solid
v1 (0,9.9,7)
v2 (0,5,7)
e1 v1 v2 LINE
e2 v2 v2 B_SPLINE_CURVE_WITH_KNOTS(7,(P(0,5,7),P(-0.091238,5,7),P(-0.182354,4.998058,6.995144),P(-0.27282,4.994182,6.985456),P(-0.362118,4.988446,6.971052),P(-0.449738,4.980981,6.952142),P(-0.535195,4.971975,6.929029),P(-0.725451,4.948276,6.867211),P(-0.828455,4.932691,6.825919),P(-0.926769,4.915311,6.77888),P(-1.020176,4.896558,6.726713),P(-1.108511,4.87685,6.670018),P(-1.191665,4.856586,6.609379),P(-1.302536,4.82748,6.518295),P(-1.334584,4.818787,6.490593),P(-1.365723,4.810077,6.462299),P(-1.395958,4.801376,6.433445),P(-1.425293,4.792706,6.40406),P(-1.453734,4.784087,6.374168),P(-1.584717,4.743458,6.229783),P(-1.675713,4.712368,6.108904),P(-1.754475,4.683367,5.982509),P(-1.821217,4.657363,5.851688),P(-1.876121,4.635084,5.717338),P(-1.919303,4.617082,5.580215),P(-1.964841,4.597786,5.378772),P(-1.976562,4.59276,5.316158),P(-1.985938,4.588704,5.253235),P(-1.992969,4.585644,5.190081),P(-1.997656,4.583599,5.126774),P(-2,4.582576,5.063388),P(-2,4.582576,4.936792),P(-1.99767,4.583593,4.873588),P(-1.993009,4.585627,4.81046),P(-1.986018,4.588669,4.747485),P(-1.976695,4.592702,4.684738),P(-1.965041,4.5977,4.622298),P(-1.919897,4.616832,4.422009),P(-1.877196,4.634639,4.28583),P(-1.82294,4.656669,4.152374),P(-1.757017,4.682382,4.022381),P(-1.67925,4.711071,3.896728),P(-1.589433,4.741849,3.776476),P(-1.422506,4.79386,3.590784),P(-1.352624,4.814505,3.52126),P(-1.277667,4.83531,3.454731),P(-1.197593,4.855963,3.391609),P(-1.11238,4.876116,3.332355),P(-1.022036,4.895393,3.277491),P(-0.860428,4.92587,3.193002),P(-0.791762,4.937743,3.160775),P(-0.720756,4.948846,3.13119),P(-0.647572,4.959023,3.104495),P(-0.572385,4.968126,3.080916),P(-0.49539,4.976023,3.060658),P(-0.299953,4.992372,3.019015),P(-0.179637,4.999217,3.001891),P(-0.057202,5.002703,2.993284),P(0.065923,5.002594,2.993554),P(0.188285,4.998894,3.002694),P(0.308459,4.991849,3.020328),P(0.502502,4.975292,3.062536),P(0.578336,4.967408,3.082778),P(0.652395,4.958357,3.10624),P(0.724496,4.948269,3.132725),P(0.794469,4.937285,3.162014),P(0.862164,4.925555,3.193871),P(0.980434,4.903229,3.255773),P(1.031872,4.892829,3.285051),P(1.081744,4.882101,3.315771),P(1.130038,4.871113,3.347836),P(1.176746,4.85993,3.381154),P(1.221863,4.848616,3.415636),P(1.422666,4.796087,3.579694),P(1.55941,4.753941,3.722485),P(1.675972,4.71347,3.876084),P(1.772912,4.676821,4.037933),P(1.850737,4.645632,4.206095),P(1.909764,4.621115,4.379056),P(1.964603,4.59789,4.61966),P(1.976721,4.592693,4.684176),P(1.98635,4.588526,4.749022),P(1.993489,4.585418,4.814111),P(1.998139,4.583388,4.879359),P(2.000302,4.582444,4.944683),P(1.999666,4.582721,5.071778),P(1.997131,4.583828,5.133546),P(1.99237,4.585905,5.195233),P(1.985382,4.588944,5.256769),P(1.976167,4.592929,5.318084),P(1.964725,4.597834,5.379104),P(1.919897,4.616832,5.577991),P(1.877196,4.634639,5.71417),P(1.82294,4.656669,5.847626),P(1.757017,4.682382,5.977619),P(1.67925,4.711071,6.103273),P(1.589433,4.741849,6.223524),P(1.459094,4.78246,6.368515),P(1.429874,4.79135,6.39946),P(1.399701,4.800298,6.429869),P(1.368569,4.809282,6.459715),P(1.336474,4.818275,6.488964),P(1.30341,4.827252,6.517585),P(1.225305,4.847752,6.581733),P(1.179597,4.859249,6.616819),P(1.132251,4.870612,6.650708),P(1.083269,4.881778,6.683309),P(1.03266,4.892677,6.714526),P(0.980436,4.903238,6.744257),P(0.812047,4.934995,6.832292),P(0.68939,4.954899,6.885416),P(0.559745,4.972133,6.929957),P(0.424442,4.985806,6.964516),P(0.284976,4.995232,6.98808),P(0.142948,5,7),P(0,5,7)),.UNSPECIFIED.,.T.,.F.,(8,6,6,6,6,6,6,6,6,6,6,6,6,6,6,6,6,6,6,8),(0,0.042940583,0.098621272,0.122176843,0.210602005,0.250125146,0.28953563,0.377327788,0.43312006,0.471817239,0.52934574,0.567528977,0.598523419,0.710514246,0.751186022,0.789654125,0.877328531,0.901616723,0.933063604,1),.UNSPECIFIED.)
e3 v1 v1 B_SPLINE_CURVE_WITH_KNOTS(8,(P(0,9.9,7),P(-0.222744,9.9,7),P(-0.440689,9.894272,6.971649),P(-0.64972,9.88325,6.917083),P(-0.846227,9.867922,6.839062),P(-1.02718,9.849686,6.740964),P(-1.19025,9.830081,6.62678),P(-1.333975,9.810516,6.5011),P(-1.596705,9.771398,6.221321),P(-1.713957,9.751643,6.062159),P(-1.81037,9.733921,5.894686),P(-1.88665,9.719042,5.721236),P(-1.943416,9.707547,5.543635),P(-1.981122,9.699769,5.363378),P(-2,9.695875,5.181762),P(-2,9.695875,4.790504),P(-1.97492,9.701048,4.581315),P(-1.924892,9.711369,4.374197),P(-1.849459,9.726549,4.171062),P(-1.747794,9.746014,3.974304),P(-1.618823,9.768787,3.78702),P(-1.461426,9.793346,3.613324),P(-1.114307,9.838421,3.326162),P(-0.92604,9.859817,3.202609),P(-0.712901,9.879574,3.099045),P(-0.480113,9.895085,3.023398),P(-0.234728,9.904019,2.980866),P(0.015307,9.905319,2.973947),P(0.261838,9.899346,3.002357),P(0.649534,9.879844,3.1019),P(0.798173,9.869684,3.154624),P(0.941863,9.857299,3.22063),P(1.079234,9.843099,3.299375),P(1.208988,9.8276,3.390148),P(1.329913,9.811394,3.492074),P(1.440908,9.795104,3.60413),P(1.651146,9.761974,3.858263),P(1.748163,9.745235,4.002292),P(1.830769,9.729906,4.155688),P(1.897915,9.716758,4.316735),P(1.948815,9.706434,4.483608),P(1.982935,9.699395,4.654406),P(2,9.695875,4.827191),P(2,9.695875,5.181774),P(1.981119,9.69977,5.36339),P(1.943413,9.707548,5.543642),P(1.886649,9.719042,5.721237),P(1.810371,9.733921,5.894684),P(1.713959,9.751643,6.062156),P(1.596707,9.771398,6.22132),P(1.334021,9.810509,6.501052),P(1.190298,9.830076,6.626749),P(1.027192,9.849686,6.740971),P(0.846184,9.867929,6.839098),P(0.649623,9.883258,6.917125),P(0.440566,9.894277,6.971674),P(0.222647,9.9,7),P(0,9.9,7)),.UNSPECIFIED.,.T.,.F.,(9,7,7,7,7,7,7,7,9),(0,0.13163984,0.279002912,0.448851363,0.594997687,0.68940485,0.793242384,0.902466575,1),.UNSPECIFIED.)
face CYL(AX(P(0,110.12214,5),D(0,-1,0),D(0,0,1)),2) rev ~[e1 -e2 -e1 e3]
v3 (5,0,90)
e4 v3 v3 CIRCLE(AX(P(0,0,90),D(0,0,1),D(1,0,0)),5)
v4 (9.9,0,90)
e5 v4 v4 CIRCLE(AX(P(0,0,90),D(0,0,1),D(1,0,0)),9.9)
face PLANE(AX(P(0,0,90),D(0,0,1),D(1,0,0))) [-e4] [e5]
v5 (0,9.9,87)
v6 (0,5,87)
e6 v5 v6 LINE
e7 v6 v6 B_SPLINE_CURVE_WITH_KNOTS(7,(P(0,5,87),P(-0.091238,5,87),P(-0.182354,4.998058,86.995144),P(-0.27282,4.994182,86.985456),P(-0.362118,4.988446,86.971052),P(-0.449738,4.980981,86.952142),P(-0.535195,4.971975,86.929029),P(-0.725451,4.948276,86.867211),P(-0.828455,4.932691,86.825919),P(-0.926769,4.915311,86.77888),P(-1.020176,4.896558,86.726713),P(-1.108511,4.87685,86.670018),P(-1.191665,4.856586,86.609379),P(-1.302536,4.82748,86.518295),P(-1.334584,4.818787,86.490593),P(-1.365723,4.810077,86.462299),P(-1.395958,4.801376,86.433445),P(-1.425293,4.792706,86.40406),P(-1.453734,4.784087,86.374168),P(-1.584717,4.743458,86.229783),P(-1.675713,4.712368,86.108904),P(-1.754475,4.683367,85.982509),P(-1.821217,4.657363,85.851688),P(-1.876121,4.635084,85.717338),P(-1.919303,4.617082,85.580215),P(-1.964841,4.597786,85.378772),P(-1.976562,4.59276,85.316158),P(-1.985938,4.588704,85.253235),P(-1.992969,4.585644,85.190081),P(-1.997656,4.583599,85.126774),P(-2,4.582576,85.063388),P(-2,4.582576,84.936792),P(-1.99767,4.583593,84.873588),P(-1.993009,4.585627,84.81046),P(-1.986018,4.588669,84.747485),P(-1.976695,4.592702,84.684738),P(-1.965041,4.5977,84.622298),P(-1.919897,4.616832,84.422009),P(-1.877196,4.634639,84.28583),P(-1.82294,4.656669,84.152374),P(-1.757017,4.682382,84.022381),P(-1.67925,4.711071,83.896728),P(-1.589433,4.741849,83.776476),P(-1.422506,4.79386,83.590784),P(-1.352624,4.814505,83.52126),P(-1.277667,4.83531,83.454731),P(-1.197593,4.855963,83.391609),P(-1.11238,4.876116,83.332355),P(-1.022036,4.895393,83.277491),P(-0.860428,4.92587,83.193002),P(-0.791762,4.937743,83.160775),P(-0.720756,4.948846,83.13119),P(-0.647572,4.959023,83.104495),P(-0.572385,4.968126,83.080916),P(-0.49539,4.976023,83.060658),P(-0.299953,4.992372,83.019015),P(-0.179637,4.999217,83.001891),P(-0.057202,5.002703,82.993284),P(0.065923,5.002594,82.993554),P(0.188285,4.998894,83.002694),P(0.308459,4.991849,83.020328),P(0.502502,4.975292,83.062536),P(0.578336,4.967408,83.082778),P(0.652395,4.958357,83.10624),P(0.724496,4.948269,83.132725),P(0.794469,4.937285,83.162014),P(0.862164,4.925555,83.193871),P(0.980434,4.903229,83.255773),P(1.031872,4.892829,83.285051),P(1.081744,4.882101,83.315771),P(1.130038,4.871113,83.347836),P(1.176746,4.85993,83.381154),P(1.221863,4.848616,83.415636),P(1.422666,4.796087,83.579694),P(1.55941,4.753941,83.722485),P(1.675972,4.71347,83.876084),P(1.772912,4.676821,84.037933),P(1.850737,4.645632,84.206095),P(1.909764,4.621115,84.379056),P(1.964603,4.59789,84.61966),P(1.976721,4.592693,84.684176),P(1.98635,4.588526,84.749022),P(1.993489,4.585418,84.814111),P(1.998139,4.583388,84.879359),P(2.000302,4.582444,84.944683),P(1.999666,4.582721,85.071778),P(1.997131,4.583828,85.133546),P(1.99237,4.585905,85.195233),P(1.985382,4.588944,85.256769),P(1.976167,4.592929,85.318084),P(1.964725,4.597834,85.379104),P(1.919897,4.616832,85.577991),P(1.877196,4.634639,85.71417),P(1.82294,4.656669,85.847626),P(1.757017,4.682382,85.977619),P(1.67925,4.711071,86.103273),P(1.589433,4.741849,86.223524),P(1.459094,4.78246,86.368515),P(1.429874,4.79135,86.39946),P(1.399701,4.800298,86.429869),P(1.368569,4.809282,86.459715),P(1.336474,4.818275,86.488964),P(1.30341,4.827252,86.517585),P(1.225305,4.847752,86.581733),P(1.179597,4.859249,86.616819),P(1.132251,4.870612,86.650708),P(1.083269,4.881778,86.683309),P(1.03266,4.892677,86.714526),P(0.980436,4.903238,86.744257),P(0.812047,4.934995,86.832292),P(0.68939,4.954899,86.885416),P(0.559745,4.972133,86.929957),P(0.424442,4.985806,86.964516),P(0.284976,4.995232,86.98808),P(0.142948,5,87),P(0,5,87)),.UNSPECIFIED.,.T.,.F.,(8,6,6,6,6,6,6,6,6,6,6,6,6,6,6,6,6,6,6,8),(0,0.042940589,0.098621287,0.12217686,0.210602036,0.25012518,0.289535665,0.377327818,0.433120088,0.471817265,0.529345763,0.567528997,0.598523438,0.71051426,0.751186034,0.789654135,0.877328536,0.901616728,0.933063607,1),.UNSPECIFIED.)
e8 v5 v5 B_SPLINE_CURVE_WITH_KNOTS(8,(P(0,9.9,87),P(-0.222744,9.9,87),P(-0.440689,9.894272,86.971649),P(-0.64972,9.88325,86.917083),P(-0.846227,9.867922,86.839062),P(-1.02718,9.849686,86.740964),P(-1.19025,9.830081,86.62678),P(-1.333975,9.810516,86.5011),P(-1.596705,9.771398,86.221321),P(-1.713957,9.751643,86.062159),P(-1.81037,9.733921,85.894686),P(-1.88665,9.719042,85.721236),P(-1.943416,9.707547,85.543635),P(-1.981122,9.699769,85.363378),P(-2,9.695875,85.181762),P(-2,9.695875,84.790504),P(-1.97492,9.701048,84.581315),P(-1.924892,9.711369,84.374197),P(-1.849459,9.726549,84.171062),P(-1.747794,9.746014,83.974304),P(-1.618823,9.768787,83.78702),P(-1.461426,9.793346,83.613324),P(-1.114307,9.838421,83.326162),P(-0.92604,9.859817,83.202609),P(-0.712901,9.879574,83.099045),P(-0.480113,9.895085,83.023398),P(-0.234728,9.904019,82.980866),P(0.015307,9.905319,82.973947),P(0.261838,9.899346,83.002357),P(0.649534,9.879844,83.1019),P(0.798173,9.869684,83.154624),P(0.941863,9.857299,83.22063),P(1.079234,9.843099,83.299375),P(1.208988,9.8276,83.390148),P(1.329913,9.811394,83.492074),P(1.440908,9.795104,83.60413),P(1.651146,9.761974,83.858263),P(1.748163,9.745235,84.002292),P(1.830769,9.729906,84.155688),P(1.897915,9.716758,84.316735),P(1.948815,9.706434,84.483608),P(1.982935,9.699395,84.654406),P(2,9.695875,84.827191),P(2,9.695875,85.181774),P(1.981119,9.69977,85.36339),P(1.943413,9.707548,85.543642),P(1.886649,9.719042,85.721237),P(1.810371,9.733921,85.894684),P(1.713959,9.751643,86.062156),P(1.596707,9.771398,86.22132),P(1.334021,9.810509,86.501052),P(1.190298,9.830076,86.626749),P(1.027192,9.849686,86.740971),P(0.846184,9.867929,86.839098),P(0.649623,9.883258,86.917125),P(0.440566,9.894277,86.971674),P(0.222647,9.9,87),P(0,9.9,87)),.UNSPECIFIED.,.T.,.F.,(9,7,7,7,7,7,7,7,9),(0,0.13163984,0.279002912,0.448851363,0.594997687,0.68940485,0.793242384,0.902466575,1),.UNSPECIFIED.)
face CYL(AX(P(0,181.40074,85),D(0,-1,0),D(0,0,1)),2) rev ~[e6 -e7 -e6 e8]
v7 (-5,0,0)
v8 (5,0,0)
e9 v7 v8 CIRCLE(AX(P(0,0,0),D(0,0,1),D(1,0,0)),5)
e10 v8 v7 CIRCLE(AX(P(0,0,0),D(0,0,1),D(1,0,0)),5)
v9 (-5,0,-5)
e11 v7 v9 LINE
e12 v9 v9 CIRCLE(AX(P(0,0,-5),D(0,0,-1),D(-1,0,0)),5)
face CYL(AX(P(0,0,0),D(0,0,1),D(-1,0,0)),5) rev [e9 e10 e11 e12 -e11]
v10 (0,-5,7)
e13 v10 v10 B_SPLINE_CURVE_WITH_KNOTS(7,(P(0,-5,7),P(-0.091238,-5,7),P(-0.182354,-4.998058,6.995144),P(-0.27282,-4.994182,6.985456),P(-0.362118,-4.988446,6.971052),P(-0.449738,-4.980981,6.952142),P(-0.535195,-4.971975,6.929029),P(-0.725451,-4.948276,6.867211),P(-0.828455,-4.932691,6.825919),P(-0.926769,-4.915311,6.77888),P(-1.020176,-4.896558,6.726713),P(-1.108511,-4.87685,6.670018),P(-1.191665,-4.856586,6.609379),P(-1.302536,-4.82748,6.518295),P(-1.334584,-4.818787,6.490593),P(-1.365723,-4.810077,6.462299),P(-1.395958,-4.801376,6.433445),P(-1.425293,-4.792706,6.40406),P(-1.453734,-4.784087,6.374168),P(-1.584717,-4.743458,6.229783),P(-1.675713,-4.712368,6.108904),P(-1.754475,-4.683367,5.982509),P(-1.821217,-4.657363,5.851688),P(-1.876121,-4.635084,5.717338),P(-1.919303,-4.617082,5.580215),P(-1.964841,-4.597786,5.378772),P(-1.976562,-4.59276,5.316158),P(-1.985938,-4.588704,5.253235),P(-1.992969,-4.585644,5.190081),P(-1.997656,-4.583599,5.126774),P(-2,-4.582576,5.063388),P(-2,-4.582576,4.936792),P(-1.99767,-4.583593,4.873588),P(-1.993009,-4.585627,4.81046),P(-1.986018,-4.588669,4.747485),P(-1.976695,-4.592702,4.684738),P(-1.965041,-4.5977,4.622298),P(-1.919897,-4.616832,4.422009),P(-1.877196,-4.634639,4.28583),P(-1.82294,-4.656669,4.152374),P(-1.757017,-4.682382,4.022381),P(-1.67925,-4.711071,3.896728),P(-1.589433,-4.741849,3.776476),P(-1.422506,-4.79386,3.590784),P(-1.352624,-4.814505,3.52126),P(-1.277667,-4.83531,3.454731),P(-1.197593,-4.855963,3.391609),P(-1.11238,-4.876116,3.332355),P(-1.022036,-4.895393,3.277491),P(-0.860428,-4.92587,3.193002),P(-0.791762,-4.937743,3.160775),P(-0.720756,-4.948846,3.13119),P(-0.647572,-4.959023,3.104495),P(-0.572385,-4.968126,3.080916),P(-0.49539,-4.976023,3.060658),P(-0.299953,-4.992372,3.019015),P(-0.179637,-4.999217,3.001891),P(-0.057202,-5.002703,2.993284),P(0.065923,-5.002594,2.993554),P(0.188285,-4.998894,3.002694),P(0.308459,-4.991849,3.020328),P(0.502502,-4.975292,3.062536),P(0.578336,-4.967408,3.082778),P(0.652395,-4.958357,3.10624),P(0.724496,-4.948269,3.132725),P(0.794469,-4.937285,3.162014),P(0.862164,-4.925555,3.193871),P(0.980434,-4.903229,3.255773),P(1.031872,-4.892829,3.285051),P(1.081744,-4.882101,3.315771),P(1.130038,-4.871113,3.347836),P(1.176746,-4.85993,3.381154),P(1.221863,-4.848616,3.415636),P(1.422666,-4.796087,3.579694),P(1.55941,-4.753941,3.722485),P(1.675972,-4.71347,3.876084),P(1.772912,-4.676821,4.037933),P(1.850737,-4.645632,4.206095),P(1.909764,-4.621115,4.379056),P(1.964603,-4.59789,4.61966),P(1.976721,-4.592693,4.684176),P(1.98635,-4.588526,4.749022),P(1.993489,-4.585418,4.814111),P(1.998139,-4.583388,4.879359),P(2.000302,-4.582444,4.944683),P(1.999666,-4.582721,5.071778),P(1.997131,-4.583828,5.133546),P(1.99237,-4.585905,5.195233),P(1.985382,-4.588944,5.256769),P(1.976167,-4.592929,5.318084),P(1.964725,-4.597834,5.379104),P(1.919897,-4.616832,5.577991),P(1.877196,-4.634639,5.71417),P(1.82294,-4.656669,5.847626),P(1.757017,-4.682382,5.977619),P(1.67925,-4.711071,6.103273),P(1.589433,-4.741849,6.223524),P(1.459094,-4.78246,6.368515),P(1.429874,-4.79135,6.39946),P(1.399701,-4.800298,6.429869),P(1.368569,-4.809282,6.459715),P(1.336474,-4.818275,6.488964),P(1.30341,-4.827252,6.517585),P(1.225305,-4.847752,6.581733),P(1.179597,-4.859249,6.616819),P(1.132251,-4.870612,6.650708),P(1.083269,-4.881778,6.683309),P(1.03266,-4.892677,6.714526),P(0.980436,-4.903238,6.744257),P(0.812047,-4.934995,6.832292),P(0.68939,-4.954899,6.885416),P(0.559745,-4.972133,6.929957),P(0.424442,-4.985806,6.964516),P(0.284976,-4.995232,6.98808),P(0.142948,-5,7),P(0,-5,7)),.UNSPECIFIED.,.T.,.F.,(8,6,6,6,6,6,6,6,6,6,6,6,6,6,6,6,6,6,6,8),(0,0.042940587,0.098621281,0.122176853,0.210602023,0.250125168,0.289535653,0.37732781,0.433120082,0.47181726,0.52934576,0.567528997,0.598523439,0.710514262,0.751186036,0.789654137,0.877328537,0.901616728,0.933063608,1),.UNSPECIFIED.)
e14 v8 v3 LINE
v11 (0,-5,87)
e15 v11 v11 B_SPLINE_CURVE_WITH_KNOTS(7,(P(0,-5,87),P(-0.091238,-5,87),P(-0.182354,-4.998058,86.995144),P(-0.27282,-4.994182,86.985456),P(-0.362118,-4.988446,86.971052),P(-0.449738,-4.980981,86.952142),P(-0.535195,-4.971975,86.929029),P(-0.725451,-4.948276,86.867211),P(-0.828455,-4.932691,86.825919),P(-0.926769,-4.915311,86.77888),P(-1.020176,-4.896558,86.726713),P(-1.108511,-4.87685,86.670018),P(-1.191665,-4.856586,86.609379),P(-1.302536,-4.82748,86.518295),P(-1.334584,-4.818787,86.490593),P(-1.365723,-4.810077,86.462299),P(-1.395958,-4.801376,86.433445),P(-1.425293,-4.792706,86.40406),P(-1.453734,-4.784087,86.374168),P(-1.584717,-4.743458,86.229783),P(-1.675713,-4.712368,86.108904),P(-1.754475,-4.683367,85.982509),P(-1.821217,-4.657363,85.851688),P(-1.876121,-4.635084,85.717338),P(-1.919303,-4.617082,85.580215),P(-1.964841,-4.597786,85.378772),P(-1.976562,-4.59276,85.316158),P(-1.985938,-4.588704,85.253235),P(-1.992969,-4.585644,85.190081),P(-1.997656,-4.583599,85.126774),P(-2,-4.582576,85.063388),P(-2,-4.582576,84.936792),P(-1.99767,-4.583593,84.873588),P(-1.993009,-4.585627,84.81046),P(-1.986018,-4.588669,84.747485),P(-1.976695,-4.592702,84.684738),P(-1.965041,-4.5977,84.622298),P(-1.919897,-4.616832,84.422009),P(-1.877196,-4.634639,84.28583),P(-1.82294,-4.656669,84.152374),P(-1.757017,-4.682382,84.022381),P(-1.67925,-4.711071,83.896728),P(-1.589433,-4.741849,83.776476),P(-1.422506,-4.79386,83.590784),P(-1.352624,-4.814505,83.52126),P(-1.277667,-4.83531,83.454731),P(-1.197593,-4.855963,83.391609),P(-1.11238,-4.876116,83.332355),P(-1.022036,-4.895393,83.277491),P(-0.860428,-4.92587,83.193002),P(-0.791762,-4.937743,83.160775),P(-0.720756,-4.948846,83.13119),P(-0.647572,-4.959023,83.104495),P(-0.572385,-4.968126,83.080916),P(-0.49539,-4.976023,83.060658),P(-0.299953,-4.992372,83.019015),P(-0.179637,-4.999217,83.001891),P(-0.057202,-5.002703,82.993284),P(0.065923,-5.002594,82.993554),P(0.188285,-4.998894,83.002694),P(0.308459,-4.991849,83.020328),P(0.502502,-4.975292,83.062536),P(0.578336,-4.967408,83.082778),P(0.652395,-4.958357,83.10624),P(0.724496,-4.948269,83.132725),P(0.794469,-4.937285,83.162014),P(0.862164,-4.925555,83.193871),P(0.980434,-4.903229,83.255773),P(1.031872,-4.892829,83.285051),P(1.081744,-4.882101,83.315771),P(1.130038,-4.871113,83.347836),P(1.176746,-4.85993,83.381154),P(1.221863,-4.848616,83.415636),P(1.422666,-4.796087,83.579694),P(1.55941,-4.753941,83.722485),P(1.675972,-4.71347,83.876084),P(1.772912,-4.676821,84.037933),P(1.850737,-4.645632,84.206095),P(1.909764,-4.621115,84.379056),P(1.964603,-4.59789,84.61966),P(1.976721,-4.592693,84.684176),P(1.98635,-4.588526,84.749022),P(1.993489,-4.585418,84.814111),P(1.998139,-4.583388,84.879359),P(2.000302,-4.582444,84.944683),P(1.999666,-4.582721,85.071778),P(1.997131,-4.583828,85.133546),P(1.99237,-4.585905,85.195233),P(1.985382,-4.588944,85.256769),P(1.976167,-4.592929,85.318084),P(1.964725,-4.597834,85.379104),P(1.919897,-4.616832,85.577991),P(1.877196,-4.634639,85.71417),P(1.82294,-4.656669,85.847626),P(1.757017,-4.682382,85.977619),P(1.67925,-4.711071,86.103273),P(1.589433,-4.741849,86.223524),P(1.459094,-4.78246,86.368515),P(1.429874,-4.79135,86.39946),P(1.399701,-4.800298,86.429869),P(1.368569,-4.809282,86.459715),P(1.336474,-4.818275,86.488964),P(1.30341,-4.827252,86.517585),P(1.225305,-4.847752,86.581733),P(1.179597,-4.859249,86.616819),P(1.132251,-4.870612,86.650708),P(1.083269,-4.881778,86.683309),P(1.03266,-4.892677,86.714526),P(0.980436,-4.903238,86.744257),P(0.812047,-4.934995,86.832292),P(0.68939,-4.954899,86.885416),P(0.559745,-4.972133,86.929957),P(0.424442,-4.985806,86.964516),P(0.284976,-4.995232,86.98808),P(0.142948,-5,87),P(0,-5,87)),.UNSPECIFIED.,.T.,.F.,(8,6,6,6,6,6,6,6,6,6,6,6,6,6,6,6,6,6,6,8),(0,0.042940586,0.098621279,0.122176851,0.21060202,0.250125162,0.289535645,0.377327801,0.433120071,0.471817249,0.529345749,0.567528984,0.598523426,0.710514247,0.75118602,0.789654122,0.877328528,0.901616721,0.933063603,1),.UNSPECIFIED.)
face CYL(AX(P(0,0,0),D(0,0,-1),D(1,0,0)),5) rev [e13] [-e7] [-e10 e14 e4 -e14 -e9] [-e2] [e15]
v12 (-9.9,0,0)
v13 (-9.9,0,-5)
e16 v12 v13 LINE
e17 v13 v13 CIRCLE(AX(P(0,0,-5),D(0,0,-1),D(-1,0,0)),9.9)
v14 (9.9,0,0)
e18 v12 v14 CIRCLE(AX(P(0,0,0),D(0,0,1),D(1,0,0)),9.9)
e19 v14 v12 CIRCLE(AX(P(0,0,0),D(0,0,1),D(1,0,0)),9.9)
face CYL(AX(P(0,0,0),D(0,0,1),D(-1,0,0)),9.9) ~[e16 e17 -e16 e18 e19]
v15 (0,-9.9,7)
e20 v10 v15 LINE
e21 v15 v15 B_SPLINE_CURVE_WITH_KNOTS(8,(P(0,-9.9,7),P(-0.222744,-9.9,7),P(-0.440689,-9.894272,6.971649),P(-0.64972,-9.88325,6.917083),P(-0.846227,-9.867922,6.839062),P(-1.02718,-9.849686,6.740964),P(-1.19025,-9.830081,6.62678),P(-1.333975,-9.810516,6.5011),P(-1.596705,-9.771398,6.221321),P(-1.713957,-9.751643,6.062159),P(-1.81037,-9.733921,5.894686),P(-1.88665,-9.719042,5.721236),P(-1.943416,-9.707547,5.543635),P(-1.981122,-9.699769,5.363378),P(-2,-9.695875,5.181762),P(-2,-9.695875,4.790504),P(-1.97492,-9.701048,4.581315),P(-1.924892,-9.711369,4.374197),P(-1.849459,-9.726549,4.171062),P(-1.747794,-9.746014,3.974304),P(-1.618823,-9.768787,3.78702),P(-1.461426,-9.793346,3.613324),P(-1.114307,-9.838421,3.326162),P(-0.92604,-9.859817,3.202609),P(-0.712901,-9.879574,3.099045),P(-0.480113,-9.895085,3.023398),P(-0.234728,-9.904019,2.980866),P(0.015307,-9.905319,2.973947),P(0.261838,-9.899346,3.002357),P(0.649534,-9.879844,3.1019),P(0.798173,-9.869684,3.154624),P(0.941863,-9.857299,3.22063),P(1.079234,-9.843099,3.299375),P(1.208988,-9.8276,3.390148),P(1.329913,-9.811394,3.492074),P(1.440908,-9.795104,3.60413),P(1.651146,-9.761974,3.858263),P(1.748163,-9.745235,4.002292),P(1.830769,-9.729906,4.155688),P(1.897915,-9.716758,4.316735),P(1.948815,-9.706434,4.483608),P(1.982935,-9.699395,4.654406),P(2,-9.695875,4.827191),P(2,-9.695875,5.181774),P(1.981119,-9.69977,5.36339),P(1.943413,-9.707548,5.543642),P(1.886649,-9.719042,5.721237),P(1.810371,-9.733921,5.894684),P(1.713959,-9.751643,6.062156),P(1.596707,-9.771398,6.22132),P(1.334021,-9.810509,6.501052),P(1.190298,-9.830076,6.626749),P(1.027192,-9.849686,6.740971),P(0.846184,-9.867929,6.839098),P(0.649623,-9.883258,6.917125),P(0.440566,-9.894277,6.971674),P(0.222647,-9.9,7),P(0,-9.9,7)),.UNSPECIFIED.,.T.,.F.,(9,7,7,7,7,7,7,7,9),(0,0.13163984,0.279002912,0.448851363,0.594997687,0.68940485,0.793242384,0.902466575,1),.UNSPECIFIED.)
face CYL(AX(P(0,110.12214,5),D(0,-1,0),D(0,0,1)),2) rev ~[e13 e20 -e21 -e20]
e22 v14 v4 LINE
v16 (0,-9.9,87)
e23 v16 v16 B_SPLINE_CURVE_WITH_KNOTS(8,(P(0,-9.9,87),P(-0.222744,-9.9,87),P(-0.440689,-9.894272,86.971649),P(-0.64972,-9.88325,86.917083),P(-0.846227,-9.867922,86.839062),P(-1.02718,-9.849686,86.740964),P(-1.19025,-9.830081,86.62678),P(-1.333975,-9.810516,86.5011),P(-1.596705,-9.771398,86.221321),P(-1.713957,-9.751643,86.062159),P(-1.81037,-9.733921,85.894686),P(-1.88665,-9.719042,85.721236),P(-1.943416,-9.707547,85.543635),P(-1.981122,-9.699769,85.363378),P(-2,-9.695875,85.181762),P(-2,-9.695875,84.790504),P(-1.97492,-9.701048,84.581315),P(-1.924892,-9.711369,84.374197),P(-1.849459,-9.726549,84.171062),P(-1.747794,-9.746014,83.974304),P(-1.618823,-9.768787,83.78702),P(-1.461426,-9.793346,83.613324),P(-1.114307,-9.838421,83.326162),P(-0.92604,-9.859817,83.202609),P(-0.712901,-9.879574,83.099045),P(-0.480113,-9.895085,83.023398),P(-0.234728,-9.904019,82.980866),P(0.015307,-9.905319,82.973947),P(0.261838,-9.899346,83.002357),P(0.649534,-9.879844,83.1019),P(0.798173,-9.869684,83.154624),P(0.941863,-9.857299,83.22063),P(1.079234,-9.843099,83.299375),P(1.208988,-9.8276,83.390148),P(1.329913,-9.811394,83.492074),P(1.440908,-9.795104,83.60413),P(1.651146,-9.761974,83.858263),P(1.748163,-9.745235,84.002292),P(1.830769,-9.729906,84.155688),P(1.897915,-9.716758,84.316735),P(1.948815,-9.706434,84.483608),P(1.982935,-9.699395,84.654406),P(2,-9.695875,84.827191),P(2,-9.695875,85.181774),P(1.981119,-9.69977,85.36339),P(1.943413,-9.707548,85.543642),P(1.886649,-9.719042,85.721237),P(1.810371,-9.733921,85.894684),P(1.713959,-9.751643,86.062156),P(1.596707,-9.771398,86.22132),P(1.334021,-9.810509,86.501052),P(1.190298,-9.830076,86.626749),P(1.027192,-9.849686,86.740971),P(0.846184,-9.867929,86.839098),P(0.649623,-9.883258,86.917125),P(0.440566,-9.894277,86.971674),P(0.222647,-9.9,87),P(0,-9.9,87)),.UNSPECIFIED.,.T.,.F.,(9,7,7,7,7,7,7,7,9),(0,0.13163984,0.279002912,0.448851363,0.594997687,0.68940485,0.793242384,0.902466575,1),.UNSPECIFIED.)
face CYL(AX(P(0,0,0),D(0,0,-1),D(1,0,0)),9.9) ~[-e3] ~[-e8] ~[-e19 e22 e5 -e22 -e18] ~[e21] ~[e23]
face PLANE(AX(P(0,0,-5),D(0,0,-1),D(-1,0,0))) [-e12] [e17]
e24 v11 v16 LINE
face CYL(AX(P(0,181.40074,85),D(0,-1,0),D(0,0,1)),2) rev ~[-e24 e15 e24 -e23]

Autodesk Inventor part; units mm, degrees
ref_plane "YZ Plane" through (0, 0, 0) normal (1, 0, 0) x (0, 1, 0)
ref_plane "XZ Plane" through (0, 0, 0) normal (0, 1, 0) x (-1, 0, 0)
ref_plane "XY Plane" through (0, 0, 0) normal (0, 0, 1) x (1, 0, 0)
sketch "Esquisse1" plane through (0, 0, 0) normal (0, 0, 1) x (1, 0, 0)
  circle A0 centre (0, 0) radius 9.9
  circle A1 centre (0, 0) radius 5
  dimension "d0" = 19.8
  dimension "d1" = 10
extrude "Extrusion1" add sketch "Esquisse1" along normal blind 90
sketch "Esquisse2" plane through (0, 0, 0) normal (0, 1, 0) x (-1, 0, 0)
  line L0 (0, 0) -> (0, 5)
  line L1 (9.9, 90) -> (-9.9, 90) projected
  line L2 (0, 90) -> (0, 85)
  dimension "d4" = 5
  dimension "d5" = 5
hole "Perçage1" at (0, 0, 5) at (0, 0, 85) direction (0, -1, 0) diameter 4 end through all both
sketch "Esquisse3" plane through (0, 0, 0) normal (0, 0, -1) x (-1, 0, 0)
  circle A0 centre (0, 0) radius 5 projected
  circle A1 centre (0, 0) radius 9.9 projected
extrude "Extrusion2" add sketch "Esquisse3" along normal blind 5
properties part number "tubelong_rocker"
